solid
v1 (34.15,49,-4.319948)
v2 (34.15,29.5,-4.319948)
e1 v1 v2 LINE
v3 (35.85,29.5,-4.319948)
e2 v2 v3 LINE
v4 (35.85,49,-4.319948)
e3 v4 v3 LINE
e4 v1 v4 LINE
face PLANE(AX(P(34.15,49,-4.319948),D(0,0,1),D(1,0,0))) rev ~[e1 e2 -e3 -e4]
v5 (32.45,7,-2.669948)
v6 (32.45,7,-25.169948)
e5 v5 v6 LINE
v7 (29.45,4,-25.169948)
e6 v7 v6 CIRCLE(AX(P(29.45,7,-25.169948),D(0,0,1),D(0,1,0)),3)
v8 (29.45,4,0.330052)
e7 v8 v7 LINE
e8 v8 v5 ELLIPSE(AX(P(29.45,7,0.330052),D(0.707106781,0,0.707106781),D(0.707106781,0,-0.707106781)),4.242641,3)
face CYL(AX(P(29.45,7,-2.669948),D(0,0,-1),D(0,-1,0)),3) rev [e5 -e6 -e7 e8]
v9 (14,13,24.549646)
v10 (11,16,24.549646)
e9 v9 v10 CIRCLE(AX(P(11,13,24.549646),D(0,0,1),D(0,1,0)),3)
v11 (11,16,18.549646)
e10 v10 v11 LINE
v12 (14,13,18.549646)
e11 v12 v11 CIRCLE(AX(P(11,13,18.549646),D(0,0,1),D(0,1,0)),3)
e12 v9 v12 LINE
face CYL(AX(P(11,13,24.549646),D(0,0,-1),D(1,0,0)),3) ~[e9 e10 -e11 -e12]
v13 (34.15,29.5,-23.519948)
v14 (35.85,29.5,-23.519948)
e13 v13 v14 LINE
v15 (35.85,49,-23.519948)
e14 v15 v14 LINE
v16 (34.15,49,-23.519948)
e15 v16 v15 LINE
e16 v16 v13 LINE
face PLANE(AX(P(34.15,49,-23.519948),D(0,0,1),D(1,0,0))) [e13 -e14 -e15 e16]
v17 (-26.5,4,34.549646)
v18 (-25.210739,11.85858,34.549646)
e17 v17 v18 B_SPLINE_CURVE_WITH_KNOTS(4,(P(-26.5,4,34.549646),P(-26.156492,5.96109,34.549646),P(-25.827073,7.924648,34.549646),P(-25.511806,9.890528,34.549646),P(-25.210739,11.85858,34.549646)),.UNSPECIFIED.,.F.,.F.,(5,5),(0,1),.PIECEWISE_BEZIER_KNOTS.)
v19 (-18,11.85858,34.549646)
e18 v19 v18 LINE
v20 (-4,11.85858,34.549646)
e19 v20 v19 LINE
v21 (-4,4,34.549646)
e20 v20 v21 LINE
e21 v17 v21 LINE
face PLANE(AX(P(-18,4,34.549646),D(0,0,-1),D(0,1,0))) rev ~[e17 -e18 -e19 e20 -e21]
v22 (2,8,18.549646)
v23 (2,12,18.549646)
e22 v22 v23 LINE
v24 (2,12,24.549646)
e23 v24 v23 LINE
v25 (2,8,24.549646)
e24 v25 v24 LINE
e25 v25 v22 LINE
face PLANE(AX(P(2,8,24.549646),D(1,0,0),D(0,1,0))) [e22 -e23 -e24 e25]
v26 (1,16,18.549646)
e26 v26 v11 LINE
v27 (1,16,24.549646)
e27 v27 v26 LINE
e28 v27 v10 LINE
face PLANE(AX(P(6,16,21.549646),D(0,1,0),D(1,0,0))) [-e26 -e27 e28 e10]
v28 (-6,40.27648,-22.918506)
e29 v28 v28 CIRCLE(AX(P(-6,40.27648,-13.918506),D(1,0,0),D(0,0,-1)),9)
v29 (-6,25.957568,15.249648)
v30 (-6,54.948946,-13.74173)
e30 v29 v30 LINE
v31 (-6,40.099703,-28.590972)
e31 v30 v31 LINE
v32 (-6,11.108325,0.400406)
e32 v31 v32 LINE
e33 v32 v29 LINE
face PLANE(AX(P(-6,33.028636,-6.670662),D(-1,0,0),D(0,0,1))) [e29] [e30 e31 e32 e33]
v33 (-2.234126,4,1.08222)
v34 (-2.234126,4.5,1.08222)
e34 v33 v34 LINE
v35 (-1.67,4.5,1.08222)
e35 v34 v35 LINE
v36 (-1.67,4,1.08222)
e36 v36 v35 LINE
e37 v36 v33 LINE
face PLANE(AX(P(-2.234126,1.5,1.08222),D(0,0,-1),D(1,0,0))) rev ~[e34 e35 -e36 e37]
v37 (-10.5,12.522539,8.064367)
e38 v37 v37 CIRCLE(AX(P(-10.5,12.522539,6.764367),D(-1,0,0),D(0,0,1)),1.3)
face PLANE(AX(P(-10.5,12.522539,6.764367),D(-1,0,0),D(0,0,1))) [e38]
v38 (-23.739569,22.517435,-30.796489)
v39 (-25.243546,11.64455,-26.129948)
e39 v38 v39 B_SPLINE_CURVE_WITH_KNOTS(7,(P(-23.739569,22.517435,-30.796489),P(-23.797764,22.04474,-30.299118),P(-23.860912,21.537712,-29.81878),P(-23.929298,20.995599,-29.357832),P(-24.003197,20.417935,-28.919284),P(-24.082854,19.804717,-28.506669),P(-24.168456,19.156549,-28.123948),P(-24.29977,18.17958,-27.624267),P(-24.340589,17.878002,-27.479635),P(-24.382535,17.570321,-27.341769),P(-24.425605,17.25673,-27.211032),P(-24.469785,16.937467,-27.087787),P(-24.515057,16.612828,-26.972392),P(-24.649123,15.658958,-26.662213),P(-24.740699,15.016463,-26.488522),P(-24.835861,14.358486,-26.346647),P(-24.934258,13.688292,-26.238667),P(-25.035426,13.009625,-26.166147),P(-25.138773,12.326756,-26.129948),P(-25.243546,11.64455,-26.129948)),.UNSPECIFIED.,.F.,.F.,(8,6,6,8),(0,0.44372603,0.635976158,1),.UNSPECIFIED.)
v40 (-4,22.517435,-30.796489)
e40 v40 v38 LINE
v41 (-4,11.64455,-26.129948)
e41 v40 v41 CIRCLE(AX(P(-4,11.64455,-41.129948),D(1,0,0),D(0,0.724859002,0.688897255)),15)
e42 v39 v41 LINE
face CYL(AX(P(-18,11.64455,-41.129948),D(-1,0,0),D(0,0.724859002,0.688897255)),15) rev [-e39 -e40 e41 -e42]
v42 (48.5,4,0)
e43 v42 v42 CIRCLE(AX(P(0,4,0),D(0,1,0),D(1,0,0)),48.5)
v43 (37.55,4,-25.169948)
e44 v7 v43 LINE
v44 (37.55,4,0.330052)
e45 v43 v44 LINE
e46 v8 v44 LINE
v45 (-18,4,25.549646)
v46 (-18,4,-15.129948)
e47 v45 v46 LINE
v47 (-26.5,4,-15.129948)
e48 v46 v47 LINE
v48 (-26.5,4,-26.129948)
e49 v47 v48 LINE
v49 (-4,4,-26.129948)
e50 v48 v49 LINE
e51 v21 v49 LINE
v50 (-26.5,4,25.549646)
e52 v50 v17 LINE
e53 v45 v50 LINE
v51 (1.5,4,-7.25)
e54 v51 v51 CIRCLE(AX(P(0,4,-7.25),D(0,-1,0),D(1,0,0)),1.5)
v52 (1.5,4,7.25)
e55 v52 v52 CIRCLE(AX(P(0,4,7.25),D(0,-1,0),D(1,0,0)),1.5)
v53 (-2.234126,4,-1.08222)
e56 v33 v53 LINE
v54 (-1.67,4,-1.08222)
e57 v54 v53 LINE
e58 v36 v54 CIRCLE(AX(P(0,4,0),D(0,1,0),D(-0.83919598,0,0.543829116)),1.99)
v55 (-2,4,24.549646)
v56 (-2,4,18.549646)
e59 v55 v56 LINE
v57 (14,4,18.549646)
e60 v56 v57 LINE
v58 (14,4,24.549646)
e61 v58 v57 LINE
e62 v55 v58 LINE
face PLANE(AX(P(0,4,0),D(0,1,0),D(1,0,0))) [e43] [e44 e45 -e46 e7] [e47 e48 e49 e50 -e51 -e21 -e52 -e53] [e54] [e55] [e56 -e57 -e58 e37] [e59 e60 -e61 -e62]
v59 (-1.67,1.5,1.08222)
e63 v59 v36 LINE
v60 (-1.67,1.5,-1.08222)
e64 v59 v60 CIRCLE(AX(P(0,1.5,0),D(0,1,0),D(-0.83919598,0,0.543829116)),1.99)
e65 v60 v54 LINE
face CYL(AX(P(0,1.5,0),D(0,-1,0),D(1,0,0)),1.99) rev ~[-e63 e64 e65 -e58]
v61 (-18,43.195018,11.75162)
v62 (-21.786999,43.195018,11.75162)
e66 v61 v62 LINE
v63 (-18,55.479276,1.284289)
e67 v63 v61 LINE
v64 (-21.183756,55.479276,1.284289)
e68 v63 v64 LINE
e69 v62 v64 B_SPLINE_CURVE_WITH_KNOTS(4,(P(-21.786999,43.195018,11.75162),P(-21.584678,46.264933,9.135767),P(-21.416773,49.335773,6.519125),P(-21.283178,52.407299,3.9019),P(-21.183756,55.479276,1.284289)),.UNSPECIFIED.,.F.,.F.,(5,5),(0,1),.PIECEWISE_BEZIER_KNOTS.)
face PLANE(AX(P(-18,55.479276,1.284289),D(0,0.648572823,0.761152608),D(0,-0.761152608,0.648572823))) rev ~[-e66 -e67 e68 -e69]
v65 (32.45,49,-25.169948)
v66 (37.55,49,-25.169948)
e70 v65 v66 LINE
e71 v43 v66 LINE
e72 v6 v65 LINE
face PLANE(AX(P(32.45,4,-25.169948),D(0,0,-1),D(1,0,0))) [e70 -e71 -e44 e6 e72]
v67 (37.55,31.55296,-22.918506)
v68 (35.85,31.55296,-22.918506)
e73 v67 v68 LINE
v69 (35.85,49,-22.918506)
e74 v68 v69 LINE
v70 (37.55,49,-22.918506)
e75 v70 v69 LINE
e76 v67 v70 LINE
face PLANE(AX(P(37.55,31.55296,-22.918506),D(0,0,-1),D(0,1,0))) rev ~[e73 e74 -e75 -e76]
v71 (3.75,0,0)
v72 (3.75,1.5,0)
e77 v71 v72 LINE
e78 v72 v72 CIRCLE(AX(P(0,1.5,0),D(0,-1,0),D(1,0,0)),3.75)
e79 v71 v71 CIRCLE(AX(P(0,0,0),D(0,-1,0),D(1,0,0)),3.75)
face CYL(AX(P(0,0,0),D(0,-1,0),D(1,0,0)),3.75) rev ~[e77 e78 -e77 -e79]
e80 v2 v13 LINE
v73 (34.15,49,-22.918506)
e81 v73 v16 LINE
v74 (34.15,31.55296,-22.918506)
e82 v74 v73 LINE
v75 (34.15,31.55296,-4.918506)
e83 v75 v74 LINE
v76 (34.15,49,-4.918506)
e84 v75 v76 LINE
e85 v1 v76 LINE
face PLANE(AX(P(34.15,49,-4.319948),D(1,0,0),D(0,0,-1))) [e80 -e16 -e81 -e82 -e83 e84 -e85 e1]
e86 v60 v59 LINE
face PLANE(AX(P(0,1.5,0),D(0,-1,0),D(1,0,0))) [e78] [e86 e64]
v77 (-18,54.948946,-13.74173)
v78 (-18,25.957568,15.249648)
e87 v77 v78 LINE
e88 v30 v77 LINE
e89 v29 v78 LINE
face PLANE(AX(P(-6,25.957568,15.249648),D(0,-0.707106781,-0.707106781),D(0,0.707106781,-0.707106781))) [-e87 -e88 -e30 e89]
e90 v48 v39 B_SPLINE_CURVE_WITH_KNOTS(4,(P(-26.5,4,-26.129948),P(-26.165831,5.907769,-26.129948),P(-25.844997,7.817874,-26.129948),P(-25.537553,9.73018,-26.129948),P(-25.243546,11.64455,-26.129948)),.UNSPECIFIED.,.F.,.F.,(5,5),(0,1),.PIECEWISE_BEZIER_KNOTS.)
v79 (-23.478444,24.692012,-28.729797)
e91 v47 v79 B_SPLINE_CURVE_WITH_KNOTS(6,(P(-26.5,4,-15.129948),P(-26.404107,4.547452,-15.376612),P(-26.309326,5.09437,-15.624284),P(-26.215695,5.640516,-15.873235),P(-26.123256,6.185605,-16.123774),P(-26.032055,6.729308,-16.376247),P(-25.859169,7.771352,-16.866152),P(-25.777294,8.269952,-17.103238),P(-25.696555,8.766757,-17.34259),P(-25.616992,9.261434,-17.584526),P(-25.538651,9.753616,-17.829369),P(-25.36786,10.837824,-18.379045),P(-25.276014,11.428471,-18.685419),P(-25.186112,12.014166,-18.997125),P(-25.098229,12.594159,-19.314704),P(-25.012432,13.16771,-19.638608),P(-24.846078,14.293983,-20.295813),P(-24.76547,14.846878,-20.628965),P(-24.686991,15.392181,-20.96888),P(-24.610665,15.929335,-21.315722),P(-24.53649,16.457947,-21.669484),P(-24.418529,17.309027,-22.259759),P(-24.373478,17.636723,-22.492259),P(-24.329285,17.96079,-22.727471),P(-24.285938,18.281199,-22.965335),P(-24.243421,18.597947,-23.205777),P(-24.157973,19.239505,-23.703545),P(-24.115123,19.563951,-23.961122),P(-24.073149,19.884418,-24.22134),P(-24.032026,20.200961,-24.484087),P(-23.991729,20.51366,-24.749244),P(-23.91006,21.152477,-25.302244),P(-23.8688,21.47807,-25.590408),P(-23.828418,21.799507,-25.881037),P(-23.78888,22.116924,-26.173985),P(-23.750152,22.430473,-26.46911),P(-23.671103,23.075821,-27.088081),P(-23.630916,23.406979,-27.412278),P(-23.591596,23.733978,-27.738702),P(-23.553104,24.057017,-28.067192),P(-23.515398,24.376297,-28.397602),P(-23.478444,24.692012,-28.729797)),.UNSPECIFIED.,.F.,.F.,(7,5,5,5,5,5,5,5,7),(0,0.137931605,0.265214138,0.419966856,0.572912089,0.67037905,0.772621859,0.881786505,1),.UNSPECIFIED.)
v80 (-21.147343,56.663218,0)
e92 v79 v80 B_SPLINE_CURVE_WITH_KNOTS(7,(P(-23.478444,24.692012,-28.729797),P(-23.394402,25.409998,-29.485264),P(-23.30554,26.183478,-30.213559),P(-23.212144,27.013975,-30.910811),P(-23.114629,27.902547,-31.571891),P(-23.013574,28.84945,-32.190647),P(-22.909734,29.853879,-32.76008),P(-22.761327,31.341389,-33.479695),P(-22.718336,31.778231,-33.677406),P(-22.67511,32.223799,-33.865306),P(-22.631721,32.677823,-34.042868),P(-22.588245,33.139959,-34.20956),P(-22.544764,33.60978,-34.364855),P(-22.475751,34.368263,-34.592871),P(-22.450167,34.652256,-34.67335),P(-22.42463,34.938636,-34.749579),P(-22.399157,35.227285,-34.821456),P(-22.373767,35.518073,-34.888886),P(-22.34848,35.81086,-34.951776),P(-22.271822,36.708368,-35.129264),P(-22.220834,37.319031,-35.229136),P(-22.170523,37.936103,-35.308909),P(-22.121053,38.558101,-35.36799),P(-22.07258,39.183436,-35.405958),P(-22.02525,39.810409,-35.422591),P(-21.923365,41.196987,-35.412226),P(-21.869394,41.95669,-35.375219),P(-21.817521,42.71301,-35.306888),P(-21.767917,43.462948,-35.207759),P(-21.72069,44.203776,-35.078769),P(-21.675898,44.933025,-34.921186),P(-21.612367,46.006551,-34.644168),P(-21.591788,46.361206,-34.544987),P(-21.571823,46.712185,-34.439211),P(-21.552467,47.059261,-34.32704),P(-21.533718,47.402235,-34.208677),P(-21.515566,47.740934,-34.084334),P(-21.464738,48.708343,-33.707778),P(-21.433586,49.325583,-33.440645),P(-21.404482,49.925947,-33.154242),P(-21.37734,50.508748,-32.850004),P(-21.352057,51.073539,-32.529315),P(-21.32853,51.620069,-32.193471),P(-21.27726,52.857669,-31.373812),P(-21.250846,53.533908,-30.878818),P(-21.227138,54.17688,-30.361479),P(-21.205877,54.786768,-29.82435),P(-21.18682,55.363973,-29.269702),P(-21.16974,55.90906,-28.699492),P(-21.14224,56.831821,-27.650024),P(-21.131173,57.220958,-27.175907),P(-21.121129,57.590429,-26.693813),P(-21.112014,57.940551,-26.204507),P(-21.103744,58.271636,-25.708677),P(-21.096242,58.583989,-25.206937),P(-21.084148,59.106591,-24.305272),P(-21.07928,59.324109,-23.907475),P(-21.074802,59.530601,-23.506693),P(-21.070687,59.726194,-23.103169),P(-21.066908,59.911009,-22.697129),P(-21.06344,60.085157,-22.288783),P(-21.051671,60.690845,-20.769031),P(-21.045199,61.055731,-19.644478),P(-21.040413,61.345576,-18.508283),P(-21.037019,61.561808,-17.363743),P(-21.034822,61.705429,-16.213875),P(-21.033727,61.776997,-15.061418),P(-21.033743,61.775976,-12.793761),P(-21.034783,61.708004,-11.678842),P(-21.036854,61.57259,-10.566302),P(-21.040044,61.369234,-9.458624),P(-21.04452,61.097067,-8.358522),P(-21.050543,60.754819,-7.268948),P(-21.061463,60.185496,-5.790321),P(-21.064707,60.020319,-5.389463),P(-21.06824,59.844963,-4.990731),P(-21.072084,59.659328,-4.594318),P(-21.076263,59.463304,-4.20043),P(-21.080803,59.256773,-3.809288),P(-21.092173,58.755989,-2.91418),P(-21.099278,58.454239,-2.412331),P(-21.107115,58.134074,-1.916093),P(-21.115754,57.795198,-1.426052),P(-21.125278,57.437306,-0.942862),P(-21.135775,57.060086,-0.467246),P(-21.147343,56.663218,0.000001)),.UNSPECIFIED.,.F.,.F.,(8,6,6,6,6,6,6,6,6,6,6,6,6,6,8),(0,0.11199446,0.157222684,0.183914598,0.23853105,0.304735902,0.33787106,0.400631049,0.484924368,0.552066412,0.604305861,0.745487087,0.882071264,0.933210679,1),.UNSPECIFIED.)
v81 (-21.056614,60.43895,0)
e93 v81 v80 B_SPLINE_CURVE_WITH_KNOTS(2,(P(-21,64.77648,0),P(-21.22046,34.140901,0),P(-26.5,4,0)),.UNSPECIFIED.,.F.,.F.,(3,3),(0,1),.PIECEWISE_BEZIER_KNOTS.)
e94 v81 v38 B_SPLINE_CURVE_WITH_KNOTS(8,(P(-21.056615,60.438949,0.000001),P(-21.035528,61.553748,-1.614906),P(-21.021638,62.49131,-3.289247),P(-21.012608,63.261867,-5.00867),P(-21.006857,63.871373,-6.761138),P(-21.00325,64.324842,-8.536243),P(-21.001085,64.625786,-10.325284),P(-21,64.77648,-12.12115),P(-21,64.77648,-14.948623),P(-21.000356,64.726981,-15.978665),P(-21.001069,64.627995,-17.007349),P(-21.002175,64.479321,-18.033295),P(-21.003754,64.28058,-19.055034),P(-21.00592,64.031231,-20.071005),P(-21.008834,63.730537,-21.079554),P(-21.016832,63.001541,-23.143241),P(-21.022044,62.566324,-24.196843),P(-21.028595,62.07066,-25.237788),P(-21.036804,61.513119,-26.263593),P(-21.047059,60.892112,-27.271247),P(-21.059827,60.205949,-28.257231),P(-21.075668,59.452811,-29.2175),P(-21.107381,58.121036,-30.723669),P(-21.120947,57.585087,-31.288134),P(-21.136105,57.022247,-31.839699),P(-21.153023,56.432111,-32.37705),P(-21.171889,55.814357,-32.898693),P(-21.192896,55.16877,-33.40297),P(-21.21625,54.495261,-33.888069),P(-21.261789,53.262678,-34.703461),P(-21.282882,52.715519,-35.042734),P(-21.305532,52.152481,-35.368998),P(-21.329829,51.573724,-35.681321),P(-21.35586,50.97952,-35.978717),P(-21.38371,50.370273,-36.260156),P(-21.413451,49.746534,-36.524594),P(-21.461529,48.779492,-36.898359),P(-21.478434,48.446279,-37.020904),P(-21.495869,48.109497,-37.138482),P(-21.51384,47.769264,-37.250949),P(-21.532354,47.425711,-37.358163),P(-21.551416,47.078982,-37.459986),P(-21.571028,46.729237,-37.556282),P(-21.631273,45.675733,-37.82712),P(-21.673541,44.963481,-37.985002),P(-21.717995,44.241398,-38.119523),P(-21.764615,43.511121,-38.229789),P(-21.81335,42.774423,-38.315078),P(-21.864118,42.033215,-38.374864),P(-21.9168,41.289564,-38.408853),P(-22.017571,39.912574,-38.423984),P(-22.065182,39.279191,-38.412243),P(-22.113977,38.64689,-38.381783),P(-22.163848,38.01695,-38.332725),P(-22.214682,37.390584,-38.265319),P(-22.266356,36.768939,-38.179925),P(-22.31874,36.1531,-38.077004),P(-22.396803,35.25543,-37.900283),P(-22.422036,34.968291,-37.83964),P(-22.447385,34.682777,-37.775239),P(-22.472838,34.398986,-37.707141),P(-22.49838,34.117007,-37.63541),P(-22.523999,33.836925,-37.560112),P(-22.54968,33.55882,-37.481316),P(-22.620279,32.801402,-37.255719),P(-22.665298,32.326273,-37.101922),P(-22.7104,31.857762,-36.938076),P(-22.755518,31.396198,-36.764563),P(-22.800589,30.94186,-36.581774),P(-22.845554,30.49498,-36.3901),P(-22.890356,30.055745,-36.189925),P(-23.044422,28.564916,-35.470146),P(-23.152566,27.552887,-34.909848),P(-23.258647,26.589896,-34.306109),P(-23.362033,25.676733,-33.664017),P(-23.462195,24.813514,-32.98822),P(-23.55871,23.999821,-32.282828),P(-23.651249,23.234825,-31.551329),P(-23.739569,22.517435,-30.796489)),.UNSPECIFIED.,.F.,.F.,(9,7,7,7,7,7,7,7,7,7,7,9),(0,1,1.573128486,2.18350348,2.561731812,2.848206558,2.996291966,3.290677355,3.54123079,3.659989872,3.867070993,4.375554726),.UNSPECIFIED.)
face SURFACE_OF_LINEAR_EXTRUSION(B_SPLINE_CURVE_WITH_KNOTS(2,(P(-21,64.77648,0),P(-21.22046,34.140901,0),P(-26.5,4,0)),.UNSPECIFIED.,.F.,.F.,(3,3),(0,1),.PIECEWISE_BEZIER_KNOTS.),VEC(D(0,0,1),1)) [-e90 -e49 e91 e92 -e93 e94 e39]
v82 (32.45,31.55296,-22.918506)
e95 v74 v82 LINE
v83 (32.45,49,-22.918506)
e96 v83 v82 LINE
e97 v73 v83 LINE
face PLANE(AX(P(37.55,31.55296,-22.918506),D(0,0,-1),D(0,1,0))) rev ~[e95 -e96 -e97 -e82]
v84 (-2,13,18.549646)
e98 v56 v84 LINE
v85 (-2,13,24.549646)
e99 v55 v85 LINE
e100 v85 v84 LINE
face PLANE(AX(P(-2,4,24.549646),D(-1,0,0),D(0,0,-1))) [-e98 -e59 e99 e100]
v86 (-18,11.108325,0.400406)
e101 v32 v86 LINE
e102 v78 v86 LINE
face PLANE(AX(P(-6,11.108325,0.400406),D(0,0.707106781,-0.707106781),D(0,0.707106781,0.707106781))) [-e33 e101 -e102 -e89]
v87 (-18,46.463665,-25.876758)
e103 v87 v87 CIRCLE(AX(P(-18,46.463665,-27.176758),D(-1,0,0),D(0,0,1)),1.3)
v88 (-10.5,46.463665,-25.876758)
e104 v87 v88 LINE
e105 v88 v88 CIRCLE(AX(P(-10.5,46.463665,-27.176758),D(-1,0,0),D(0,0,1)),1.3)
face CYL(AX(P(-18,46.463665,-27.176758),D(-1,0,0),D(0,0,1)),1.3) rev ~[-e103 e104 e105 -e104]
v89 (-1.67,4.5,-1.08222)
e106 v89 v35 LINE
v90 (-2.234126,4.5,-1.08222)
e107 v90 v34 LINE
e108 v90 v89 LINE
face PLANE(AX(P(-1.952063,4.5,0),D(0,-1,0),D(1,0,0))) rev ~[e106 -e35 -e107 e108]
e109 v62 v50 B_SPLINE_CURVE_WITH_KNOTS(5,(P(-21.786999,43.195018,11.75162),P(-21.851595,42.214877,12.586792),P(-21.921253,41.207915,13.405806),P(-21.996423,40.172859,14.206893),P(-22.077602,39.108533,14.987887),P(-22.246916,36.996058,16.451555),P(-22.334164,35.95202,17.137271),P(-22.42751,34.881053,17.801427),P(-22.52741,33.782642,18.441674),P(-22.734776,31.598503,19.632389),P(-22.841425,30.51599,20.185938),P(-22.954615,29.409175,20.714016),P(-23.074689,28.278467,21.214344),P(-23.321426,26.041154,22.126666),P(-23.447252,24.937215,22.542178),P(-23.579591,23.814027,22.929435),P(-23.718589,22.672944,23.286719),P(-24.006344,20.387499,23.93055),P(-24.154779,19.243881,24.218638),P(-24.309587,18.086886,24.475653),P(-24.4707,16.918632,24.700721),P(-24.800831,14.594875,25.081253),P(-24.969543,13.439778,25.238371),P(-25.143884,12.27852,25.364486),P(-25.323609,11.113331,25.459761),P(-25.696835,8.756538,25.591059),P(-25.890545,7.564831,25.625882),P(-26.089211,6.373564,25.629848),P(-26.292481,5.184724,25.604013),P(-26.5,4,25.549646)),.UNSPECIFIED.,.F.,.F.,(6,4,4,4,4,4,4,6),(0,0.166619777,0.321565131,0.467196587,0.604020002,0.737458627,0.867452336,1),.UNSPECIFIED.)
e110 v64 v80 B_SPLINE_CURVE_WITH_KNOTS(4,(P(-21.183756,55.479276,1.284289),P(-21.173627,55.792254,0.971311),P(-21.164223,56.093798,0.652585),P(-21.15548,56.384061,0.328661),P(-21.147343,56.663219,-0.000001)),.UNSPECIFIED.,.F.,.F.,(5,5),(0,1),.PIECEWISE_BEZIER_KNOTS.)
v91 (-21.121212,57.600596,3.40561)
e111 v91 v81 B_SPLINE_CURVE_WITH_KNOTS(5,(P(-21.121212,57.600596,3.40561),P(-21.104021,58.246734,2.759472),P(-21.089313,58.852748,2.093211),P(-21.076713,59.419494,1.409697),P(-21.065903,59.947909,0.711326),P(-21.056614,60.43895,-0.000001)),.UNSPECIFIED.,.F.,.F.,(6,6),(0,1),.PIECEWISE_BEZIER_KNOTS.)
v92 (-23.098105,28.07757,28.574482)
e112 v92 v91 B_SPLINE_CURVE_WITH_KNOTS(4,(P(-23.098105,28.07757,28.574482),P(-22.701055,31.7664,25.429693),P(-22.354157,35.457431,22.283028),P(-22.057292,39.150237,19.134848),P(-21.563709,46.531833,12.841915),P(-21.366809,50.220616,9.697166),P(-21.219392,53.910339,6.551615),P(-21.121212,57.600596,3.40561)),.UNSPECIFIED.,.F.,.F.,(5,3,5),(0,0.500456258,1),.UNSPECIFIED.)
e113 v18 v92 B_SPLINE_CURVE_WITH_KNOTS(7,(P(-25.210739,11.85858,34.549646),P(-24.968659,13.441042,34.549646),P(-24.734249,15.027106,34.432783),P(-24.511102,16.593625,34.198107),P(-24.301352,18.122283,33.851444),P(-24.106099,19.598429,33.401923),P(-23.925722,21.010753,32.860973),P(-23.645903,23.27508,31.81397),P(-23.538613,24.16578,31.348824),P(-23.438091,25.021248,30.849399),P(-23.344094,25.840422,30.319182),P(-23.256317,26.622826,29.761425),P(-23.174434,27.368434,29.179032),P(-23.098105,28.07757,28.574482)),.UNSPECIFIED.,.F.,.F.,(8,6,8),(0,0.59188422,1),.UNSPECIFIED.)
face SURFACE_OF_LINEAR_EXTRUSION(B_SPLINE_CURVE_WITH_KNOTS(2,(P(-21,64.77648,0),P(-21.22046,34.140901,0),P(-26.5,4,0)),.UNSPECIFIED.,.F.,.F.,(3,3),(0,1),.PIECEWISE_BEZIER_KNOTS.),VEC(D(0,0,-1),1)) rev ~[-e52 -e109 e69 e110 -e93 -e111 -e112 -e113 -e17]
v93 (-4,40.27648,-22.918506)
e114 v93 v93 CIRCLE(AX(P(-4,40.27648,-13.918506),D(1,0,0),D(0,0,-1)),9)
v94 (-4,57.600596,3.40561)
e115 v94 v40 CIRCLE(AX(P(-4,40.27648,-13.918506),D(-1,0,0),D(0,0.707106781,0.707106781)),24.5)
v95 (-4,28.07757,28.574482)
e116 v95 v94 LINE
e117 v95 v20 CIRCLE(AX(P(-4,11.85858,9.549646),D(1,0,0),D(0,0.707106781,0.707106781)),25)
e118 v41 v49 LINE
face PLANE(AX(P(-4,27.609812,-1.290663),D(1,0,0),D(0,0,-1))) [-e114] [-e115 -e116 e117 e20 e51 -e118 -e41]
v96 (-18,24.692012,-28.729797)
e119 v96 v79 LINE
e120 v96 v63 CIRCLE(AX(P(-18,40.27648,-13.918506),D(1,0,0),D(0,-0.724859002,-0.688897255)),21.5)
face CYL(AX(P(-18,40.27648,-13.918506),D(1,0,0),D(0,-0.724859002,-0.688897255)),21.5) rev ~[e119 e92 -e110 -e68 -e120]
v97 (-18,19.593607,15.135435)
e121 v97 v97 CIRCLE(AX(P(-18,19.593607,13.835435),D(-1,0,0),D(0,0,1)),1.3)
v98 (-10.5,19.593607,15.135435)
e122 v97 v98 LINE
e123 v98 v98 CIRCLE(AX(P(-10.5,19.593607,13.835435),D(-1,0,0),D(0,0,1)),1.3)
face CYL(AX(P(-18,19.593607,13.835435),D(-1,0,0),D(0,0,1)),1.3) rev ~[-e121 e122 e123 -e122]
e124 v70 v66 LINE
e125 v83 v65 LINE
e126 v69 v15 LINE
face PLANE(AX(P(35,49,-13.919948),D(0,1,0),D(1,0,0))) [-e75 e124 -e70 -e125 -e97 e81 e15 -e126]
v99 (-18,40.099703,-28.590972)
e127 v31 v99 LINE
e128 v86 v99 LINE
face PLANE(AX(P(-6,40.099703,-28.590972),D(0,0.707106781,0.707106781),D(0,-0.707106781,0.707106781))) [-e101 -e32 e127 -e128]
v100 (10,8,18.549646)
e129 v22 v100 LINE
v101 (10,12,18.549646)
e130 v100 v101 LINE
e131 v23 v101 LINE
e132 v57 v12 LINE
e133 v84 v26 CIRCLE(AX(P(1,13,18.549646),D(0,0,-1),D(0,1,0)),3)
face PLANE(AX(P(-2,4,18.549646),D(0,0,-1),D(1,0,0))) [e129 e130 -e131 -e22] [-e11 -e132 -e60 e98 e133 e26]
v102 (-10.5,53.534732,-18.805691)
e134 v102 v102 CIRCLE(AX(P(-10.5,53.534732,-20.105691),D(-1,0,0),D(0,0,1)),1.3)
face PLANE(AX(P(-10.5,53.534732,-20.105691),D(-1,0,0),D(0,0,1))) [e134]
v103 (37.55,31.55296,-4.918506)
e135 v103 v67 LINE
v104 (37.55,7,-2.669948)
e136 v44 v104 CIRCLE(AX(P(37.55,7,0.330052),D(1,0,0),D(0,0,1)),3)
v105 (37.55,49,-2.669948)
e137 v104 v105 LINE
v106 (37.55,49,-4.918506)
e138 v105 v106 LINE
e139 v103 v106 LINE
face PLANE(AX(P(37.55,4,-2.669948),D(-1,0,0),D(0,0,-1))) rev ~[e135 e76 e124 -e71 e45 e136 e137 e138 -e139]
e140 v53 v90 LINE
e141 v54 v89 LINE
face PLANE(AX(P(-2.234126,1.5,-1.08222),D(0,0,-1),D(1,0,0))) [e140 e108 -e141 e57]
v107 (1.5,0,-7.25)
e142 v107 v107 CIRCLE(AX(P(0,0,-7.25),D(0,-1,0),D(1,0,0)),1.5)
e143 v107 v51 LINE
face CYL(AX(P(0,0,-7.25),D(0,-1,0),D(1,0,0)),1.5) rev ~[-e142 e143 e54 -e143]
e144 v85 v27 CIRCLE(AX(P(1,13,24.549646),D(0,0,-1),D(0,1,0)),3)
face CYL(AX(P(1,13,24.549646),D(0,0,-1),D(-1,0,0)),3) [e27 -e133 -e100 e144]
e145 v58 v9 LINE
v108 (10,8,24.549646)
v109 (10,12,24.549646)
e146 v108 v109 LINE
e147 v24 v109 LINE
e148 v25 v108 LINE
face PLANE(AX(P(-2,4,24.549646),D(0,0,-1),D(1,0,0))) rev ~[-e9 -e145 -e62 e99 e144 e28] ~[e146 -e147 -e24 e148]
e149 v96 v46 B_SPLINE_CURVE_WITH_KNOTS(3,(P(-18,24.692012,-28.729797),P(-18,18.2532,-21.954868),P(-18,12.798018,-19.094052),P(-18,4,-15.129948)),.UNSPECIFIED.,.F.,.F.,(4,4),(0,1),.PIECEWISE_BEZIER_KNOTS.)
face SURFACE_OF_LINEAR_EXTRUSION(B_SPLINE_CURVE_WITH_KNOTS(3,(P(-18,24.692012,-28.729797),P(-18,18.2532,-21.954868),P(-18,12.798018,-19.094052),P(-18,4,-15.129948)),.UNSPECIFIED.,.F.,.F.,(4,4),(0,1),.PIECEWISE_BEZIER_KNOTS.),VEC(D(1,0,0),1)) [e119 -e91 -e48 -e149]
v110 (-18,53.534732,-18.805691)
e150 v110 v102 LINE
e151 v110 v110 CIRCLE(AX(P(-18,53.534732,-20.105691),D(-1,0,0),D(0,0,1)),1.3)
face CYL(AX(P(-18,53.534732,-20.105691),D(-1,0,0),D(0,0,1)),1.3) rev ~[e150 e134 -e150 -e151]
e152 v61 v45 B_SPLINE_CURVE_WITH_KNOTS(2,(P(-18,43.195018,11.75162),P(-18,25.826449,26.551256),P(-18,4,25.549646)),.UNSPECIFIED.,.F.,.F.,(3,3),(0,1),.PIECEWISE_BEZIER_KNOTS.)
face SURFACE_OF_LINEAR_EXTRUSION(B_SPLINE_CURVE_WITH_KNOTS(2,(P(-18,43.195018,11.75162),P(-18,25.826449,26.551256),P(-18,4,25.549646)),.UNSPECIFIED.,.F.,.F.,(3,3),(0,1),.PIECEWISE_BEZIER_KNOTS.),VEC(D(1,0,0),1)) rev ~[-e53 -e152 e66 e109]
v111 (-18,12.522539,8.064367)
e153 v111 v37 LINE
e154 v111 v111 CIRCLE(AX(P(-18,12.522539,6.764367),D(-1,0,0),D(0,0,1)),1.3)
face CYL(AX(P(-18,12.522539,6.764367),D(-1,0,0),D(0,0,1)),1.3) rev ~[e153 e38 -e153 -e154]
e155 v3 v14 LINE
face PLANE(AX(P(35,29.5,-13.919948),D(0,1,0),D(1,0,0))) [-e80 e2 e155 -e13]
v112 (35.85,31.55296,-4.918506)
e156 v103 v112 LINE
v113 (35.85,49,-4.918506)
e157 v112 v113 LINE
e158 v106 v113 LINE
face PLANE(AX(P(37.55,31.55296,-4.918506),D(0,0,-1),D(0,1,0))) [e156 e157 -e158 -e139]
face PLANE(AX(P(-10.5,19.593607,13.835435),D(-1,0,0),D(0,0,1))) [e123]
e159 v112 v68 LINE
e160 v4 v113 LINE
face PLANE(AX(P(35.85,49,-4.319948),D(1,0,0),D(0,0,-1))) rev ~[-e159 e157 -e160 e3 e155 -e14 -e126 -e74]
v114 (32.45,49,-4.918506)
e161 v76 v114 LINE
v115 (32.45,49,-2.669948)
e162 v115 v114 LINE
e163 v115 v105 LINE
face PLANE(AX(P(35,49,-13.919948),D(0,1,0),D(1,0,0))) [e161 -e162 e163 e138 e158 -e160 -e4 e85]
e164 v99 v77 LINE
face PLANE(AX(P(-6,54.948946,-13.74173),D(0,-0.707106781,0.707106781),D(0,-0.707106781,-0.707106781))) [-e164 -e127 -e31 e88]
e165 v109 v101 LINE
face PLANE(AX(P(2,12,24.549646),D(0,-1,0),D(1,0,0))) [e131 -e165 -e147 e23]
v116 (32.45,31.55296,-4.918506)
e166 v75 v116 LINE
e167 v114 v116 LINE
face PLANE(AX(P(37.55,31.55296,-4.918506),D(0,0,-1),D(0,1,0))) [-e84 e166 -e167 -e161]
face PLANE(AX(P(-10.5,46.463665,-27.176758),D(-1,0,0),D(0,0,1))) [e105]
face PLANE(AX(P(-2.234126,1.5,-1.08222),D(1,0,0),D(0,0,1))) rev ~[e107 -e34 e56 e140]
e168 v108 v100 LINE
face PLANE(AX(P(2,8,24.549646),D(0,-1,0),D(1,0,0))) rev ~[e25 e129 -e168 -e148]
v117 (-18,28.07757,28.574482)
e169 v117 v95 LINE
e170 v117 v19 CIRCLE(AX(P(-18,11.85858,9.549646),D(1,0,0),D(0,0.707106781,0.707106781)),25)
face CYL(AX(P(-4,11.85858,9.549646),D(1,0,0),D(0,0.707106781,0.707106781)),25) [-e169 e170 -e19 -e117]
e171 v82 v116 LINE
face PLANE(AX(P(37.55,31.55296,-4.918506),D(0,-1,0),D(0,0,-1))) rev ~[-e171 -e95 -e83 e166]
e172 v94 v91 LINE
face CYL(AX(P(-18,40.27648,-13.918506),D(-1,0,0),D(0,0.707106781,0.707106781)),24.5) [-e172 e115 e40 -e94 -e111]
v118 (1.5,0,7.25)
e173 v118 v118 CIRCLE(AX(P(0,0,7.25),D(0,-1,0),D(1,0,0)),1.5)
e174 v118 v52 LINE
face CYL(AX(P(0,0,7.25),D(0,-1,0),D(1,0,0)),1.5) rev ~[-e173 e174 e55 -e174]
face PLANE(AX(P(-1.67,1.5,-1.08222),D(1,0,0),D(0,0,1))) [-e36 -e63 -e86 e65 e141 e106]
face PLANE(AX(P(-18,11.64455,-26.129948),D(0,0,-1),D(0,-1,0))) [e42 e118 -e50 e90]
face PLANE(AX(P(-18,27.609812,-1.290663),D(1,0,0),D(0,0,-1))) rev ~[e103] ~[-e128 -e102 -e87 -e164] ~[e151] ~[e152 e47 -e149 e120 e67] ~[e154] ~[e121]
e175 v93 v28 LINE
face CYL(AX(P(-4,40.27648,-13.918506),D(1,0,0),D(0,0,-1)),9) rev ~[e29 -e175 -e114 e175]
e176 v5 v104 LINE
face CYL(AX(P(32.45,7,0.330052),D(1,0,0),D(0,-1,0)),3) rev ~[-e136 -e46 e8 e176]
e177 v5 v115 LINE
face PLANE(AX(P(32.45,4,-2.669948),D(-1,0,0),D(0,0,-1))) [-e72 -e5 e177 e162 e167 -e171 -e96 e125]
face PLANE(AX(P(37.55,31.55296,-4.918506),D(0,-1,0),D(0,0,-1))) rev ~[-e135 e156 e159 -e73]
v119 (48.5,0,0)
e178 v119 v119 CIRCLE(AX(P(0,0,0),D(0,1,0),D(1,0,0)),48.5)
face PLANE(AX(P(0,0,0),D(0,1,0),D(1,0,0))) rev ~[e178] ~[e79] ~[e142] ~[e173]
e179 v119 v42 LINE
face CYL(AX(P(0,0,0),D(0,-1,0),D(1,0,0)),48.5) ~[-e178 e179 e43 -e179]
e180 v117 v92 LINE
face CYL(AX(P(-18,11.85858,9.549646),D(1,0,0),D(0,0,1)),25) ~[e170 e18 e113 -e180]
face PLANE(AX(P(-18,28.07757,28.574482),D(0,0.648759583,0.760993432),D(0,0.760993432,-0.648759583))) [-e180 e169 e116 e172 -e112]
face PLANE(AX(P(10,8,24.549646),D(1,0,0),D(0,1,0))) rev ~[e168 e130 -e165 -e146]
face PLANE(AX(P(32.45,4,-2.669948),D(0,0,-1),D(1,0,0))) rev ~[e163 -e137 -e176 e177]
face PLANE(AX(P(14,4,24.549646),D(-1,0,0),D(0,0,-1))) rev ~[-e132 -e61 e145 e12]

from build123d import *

# Parameters (mm, degrees)
SKETCH2_R                = 48.5
BOSS_EXTRUDE1_DEPTH      = 4
SKETCH4_R                = 1.5
CUT_EXTRUDE2_DEPTH       = 5
SKETCH5_R                = 3.75
CUT_EXTRUDE3_DEPTH       = 1.5
BOSS_EXTRUDE2_DEPTH      = 14
CUT_EXTRUDE5_REACH       = 44.5
SKETCH9_R                = 1.3
CUT_EXTRUDE6_DEPTH       = 7.5
CUT_EXTRUDE9_REACH       = 46.5
SKETCH11_R               = 9
BOSS_EXTRUDE7_DEPTH      = 9
BOSS_EXTRUDE7_DEPTH_BACK = 14
BOSS_EXTRUDE10_DEPTH     = 9
SKETCH27_W               = 16
SKETCH27_H               = 6
BOSS_EXTRUDE11_DEPTH     = 12
FILLET6_R                = 3
CUT_EXTRUDE16_REACH      = 75.05
SKETCH28_W               = 8
SKETCH28_H               = 4
CUT_EXTRUDE17_DEPTH      = 49.5
CUT_EXTRUDE17_DEPTH_BACK = 49.5
CROQUIS4_W               = 5.1
CROQUIS4_H               = 22.5
SALIENTE_EXTRUIR1_DEPTH  = 45
CROQUIS5_W               = 1.7
CROQUIS5_H               = 19.2
CORTAR_EXTRUIR1_DEPTH    = 19.5
CROQUIS6_W               = 18
CROQUIS6_H               = 17.447039648
CORTAR_EXTRUIR2_DEPTH    = 19.5
REDONDEO1_R              = 3
CROQUIS7_R               = 1.99
CORTAR_EXTRUIR3_DEPTH    = 10
CROQUIS8_W               = 0.564126112
CROQUIS8_H               = 2.164439882
SALIENTE_EXTRUIR2_DEPTH  = 3


with BuildPart() as part:
    # Sketch2 → Boss-Extrude1 (new body)
    with BuildSketch(Plane(origin=(0, 0, 0), x_dir=(1, 0, 0), z_dir=(0, 1, 0))):
        Circle(SKETCH2_R)
    extrude(amount=BOSS_EXTRUDE1_DEPTH)

    # Sketch4 → Cut-Extrude2 (cut, through all)
    with BuildSketch(Plane.XZ):
        with Locations((0, 7.25)):
            Circle(SKETCH4_R)
        with Locations((0, -7.25)):
            Circle(SKETCH4_R)
    extrude(amount=-CUT_EXTRUDE2_DEPTH, mode=Mode.SUBTRACT)

    # Sketch5 → Cut-Extrude3 (cut)
    with BuildSketch(Plane.XZ):
        Circle(SKETCH5_R)
    extrude(amount=-CUT_EXTRUDE3_DEPTH, mode=Mode.SUBTRACT)

    # Sketch7 → Boss-Extrude2 (add)
    with BuildSketch(Plane(origin=(-4, 0, 0), x_dir=(0, 0, -1), z_dir=(1, 0, 0))):
        with BuildLine():
            Line((23.129947874, 4), (23.129947874, 11.644549616))
            ThreePointArc((23.129947874, 11.644549616), (24.589048403, 18.743749901), (28.729797284, 24.692011643))
            ThreePointArc((28.729797284, 24.692011643), (29.313383054, 55.284736897), (-1.284289494, 55.479275971))
            Line((-1.284289494, 55.479275971), (-27.227315747, 29.536249718))
            ThreePointArc((-27.227315747, 29.536249718), (-32.64663453, 21.425665997), (-34.549646217, 11.858580188))
            Line((-34.549646217, 11.858580188), (-34.549646217, 4))
            Line((-34.549646217, 4), (23.129947874, 4))
        make_face()
    extrude(amount=-BOSS_EXTRUDE2_DEPTH)

    # Sketch8 → Cut-Extrude5 (cut, up to next)
    with BuildSketch(Plane(origin=(-6, 0, 0), x_dir=(0, 0, -1), z_dir=(1, 0, 0)), mode=Mode.PRIVATE) as cut_extrude5_sk1:
        Polygon((-15.249648422, 25.957567857), (13.741729607, 54.948945886), (28.590972012, 40.099703481), (-0.400406017, 11.108325452), align=None)
    cut_extrude5_tool1 = extrude(cut_extrude5_sk1.sketch, amount=-CUT_EXTRUDE5_REACH, mode=Mode.PRIVATE) & part.part
    add(cut_extrude5_tool1.solids().sort_by_distance((-6, 33.028636, -6.670662))[0], mode=Mode.SUBTRACT)

    # Sketch9 → Cut-Extrude6 (cut)
    with BuildSketch(Plane.ZY.offset(18)):
        with Locations((-20.105690637, 53.534732323)):
            Circle(SKETCH9_R)
        with Locations((-27.176758449, 46.463664511)):
            Circle(SKETCH9_R)
        with Locations((6.764367048, 12.522539014)):
            Circle(SKETCH9_R)
        with Locations((13.83543486, 19.593606826)):
            Circle(SKETCH9_R)
    extrude(amount=-CUT_EXTRUDE6_DEPTH, mode=Mode.SUBTRACT)

    # Sketch11 → Cut-Extrude9 (cut, up to next)
    with BuildSketch(Plane(origin=(-4, 0, 0), x_dir=(0, 0, -1), z_dir=(1, 0, 0)), mode=Mode.PRIVATE) as cut_extrude9_sk1:
        with Locations((13.918506302, 40.276480176)):
            Circle(SKETCH11_R)
    cut_extrude9_tool1 = extrude(cut_extrude9_sk1.sketch, amount=-CUT_EXTRUDE9_REACH, mode=Mode.PRIVATE) & part.part
    add(cut_extrude9_tool1.solids().sort_by_distance((-4, 40.27648, -13.918506))[0], mode=Mode.SUBTRACT)

    # Sketch17 → Boss-Extrude7 (add, two sides)
    with BuildSketch(Plane.ZY.offset(18)) as boss_extrude7_sk:
        with BuildLine():
            ThreePointArc((34.549646217, 11.858580188), (33.008342843, 20.500891953), (28.574482006, 28.077569775))
            ThreePointArc((28.574482006, 28.077569775), (27.915386359, 28.820289685), (27.227315747, 29.536249718))
            Line((27.227315747, 29.536249718), (1.284289494, 55.479275971))
            Line((1.284289494, 55.479275971), (26.295003593, 26.127182305))
            ThreePointArc((26.295003593, 26.127182305), (30.194232218, 19.461281607), (31.549646217, 11.858580188))
            Line((31.549646217, 11.858580188), (31.549646217, 4))
            Line((31.549646217, 4), (34.549646217, 4))
            Line((34.549646217, 4), (34.549646217, 11.858580188))
        make_face()
        with BuildLine():
            Line((28.574482006, 28.077569775), (3.405609837, 57.600596315))
            ThreePointArc((3.405609837, 57.600596315), (-31.461505391, 57.378912253), (-30.796489049, 22.517434639))
            ThreePointArc((-30.796489049, 22.517434639), (-27.345864981, 17.560549854), (-26.129947874, 11.644549616))
            Line((-26.129947874, 11.644549616), (-26.129947874, 4))
            Line((-26.129947874, 4), (-23.129947874, 4))
            Line((-23.129947874, 4), (-23.129947874, 11.644549616))
            ThreePointArc((-23.129947874, 11.644549616), (-24.589048403, 18.743749901), (-28.729797284, 24.692011643))
            ThreePointArc((-28.729797284, 24.692011643), (-29.313383054, 55.284736897), (1.284289494, 55.479275971))
            Line((1.284289494, 55.479275971), (27.227315747, 29.536249718))
            ThreePointArc((27.227315747, 29.536249718), (27.915386359, 28.820289685), (28.574482006, 28.077569775))
        make_face()
    extrude(amount=BOSS_EXTRUDE7_DEPTH)
    extrude(boss_extrude7_sk.sketch, amount=-BOSS_EXTRUDE7_DEPTH_BACK)

    # Sketch25 → Boss-Extrude10 (add)
    with BuildSketch(Plane.ZY.offset(18)):
        with BuildLine():
            ThreePointArc((-28.729797284, 24.692011643), (-24.589048403, 18.743749901), (-23.129947874, 11.644549616))
            Line((-23.129947874, 11.644549616), (-23.129947874, 4))
            Line((-23.129947874, 4), (-15.129947874, 4))
            add(Edge.make_bspline(
                [(-28.729797284, 24.692011643), (-21.954867515, 18.253200081), (-19.09405247, 12.798017691), (-15.129947874, 4)],
                knots=[0, 0, 0, 0, 1, 1, 1, 1], degree=3))
        make_face()
        with BuildLine():
            add(Edge.make_bspline(
                [(11.751619577, 43.19501844), (26.551255916, 25.8264495), (25.549646217, 4)],
                knots=[0, 0, 0, 1, 1, 1], degree=2))
            Line((25.549646217, 4), (31.549646217, 4))
            Line((31.549646217, 4), (31.549646217, 11.858580188))
            ThreePointArc((31.549646217, 11.858580188), (30.194232218, 19.461281607), (26.295003593, 26.127182305))
            Line((26.295003593, 26.127182305), (11.751619577, 43.19501844))
        make_face()
    extrude(amount=BOSS_EXTRUDE10_DEPTH)

    # Sketch27 → Boss-Extrude11 (add)
    with BuildSketch(Plane(origin=(0, 4, 0), x_dir=(1, 0, 0), z_dir=(0, 1, 0))):
        with Locations((6, -21.549646217)):
            Rectangle(SKETCH27_W, SKETCH27_H)
    extrude(amount=BOSS_EXTRUDE11_DEPTH)

    # Fillet6
    fillet6_edges = [part.edges().sort_by_distance(p)[0] for p in [
        (-2, 16, 21.549646217),
        (14, 16, 21.549646217),
    ]]
    fillet(fillet6_edges, radius=FILLET6_R)

    # Sketch28 → Cut-Extrude16 (cut, up to next)
    with BuildSketch(Plane.XY.offset(24.549646217), mode=Mode.PRIVATE) as cut_extrude16_sk1:
        with Locations((6, 10)):
            Rectangle(SKETCH28_W, SKETCH28_H)
    cut_extrude16_tool1 = extrude(cut_extrude16_sk1.sketch, amount=-CUT_EXTRUDE16_REACH, mode=Mode.PRIVATE) & part.part
    add(cut_extrude16_tool1.solids().sort_by_distance((6, 10, 24.549646))[0], mode=Mode.SUBTRACT)

    # Sketch29 → Cut-Extrude17 (cut, two sides)
    with BuildSketch(Plane.XY) as cut_extrude17_sk:
        with BuildLine():
            Line((-21, 64.776480176), (-27, 64.776480176))
            Line((-27, 64.776480176), (-27, 4))
            Line((-27, 4), (-26.5, 4))
            add(Edge.make_bspline(
                [(-21, 64.776480176), (-21.220459696, 34.140901434), (-26.5, 4)],
                knots=[0, 0, 0, 1, 1, 1], degree=2))
        make_face()
    extrude(amount=CUT_EXTRUDE17_DEPTH, mode=Mode.SUBTRACT)
    extrude(cut_extrude17_sk.sketch, amount=-CUT_EXTRUDE17_DEPTH_BACK, mode=Mode.SUBTRACT)

    # Croquis4 → Saliente-Extruir1 (add)
    with BuildSketch(Plane(origin=(0, 4, 0), x_dir=(1, 0, 0), z_dir=(0, 1, 0))):
        with Locations((35, 13.919947874)):
            Rectangle(CROQUIS4_W, CROQUIS4_H)
    extrude(amount=SALIENTE_EXTRUIR1_DEPTH)

    # Croquis5 → Cortar-Extruir1 (cut)
    with BuildSketch(Plane(origin=(0, 49, 0), x_dir=(1, 0, 0), z_dir=(0, 1, 0))):
        with Locations((35, 13.919947874)):
            Rectangle(CROQUIS5_W, CROQUIS5_H)
    extrude(amount=-CORTAR_EXTRUIR1_DEPTH, mode=Mode.SUBTRACT)

    # Croquis6 → Cortar-Extruir2 (cut)
    with BuildSketch(Plane(origin=(37.55, 0, 0), x_dir=(0, 0, -1), z_dir=(1, 0, 0))):
        with Locations((13.918506302, 40.276480176)):
            Rectangle(CROQUIS6_W, CROQUIS6_H)
    extrude(amount=-CORTAR_EXTRUIR2_DEPTH, mode=Mode.SUBTRACT)

    # Redondeo1
    redondeo1_edges = [part.edges().sort_by_distance(p)[0] for p in [
        (32.45, 4, -13.919947874),
        (35, 4, -2.669947874),
    ]]
    fillet(redondeo1_edges, radius=REDONDEO1_R)

    # Croquis7 → Cortar-Extruir3 (cut)
    with BuildSketch(Plane.XZ.offset(-1.5)):
        Circle(CROQUIS7_R)
    extrude(amount=-CORTAR_EXTRUIR3_DEPTH, mode=Mode.SUBTRACT)

    # Croquis8 → Saliente-Extruir2 (add)
    with BuildSketch(Plane.XZ.offset(-1.5)):
        with Locations((-1.952063056, 0)):
            Rectangle(CROQUIS8_W, CROQUIS8_H)
    extrude(amount=-SALIENTE_EXTRUIR2_DEPTH)


solid = part.part
